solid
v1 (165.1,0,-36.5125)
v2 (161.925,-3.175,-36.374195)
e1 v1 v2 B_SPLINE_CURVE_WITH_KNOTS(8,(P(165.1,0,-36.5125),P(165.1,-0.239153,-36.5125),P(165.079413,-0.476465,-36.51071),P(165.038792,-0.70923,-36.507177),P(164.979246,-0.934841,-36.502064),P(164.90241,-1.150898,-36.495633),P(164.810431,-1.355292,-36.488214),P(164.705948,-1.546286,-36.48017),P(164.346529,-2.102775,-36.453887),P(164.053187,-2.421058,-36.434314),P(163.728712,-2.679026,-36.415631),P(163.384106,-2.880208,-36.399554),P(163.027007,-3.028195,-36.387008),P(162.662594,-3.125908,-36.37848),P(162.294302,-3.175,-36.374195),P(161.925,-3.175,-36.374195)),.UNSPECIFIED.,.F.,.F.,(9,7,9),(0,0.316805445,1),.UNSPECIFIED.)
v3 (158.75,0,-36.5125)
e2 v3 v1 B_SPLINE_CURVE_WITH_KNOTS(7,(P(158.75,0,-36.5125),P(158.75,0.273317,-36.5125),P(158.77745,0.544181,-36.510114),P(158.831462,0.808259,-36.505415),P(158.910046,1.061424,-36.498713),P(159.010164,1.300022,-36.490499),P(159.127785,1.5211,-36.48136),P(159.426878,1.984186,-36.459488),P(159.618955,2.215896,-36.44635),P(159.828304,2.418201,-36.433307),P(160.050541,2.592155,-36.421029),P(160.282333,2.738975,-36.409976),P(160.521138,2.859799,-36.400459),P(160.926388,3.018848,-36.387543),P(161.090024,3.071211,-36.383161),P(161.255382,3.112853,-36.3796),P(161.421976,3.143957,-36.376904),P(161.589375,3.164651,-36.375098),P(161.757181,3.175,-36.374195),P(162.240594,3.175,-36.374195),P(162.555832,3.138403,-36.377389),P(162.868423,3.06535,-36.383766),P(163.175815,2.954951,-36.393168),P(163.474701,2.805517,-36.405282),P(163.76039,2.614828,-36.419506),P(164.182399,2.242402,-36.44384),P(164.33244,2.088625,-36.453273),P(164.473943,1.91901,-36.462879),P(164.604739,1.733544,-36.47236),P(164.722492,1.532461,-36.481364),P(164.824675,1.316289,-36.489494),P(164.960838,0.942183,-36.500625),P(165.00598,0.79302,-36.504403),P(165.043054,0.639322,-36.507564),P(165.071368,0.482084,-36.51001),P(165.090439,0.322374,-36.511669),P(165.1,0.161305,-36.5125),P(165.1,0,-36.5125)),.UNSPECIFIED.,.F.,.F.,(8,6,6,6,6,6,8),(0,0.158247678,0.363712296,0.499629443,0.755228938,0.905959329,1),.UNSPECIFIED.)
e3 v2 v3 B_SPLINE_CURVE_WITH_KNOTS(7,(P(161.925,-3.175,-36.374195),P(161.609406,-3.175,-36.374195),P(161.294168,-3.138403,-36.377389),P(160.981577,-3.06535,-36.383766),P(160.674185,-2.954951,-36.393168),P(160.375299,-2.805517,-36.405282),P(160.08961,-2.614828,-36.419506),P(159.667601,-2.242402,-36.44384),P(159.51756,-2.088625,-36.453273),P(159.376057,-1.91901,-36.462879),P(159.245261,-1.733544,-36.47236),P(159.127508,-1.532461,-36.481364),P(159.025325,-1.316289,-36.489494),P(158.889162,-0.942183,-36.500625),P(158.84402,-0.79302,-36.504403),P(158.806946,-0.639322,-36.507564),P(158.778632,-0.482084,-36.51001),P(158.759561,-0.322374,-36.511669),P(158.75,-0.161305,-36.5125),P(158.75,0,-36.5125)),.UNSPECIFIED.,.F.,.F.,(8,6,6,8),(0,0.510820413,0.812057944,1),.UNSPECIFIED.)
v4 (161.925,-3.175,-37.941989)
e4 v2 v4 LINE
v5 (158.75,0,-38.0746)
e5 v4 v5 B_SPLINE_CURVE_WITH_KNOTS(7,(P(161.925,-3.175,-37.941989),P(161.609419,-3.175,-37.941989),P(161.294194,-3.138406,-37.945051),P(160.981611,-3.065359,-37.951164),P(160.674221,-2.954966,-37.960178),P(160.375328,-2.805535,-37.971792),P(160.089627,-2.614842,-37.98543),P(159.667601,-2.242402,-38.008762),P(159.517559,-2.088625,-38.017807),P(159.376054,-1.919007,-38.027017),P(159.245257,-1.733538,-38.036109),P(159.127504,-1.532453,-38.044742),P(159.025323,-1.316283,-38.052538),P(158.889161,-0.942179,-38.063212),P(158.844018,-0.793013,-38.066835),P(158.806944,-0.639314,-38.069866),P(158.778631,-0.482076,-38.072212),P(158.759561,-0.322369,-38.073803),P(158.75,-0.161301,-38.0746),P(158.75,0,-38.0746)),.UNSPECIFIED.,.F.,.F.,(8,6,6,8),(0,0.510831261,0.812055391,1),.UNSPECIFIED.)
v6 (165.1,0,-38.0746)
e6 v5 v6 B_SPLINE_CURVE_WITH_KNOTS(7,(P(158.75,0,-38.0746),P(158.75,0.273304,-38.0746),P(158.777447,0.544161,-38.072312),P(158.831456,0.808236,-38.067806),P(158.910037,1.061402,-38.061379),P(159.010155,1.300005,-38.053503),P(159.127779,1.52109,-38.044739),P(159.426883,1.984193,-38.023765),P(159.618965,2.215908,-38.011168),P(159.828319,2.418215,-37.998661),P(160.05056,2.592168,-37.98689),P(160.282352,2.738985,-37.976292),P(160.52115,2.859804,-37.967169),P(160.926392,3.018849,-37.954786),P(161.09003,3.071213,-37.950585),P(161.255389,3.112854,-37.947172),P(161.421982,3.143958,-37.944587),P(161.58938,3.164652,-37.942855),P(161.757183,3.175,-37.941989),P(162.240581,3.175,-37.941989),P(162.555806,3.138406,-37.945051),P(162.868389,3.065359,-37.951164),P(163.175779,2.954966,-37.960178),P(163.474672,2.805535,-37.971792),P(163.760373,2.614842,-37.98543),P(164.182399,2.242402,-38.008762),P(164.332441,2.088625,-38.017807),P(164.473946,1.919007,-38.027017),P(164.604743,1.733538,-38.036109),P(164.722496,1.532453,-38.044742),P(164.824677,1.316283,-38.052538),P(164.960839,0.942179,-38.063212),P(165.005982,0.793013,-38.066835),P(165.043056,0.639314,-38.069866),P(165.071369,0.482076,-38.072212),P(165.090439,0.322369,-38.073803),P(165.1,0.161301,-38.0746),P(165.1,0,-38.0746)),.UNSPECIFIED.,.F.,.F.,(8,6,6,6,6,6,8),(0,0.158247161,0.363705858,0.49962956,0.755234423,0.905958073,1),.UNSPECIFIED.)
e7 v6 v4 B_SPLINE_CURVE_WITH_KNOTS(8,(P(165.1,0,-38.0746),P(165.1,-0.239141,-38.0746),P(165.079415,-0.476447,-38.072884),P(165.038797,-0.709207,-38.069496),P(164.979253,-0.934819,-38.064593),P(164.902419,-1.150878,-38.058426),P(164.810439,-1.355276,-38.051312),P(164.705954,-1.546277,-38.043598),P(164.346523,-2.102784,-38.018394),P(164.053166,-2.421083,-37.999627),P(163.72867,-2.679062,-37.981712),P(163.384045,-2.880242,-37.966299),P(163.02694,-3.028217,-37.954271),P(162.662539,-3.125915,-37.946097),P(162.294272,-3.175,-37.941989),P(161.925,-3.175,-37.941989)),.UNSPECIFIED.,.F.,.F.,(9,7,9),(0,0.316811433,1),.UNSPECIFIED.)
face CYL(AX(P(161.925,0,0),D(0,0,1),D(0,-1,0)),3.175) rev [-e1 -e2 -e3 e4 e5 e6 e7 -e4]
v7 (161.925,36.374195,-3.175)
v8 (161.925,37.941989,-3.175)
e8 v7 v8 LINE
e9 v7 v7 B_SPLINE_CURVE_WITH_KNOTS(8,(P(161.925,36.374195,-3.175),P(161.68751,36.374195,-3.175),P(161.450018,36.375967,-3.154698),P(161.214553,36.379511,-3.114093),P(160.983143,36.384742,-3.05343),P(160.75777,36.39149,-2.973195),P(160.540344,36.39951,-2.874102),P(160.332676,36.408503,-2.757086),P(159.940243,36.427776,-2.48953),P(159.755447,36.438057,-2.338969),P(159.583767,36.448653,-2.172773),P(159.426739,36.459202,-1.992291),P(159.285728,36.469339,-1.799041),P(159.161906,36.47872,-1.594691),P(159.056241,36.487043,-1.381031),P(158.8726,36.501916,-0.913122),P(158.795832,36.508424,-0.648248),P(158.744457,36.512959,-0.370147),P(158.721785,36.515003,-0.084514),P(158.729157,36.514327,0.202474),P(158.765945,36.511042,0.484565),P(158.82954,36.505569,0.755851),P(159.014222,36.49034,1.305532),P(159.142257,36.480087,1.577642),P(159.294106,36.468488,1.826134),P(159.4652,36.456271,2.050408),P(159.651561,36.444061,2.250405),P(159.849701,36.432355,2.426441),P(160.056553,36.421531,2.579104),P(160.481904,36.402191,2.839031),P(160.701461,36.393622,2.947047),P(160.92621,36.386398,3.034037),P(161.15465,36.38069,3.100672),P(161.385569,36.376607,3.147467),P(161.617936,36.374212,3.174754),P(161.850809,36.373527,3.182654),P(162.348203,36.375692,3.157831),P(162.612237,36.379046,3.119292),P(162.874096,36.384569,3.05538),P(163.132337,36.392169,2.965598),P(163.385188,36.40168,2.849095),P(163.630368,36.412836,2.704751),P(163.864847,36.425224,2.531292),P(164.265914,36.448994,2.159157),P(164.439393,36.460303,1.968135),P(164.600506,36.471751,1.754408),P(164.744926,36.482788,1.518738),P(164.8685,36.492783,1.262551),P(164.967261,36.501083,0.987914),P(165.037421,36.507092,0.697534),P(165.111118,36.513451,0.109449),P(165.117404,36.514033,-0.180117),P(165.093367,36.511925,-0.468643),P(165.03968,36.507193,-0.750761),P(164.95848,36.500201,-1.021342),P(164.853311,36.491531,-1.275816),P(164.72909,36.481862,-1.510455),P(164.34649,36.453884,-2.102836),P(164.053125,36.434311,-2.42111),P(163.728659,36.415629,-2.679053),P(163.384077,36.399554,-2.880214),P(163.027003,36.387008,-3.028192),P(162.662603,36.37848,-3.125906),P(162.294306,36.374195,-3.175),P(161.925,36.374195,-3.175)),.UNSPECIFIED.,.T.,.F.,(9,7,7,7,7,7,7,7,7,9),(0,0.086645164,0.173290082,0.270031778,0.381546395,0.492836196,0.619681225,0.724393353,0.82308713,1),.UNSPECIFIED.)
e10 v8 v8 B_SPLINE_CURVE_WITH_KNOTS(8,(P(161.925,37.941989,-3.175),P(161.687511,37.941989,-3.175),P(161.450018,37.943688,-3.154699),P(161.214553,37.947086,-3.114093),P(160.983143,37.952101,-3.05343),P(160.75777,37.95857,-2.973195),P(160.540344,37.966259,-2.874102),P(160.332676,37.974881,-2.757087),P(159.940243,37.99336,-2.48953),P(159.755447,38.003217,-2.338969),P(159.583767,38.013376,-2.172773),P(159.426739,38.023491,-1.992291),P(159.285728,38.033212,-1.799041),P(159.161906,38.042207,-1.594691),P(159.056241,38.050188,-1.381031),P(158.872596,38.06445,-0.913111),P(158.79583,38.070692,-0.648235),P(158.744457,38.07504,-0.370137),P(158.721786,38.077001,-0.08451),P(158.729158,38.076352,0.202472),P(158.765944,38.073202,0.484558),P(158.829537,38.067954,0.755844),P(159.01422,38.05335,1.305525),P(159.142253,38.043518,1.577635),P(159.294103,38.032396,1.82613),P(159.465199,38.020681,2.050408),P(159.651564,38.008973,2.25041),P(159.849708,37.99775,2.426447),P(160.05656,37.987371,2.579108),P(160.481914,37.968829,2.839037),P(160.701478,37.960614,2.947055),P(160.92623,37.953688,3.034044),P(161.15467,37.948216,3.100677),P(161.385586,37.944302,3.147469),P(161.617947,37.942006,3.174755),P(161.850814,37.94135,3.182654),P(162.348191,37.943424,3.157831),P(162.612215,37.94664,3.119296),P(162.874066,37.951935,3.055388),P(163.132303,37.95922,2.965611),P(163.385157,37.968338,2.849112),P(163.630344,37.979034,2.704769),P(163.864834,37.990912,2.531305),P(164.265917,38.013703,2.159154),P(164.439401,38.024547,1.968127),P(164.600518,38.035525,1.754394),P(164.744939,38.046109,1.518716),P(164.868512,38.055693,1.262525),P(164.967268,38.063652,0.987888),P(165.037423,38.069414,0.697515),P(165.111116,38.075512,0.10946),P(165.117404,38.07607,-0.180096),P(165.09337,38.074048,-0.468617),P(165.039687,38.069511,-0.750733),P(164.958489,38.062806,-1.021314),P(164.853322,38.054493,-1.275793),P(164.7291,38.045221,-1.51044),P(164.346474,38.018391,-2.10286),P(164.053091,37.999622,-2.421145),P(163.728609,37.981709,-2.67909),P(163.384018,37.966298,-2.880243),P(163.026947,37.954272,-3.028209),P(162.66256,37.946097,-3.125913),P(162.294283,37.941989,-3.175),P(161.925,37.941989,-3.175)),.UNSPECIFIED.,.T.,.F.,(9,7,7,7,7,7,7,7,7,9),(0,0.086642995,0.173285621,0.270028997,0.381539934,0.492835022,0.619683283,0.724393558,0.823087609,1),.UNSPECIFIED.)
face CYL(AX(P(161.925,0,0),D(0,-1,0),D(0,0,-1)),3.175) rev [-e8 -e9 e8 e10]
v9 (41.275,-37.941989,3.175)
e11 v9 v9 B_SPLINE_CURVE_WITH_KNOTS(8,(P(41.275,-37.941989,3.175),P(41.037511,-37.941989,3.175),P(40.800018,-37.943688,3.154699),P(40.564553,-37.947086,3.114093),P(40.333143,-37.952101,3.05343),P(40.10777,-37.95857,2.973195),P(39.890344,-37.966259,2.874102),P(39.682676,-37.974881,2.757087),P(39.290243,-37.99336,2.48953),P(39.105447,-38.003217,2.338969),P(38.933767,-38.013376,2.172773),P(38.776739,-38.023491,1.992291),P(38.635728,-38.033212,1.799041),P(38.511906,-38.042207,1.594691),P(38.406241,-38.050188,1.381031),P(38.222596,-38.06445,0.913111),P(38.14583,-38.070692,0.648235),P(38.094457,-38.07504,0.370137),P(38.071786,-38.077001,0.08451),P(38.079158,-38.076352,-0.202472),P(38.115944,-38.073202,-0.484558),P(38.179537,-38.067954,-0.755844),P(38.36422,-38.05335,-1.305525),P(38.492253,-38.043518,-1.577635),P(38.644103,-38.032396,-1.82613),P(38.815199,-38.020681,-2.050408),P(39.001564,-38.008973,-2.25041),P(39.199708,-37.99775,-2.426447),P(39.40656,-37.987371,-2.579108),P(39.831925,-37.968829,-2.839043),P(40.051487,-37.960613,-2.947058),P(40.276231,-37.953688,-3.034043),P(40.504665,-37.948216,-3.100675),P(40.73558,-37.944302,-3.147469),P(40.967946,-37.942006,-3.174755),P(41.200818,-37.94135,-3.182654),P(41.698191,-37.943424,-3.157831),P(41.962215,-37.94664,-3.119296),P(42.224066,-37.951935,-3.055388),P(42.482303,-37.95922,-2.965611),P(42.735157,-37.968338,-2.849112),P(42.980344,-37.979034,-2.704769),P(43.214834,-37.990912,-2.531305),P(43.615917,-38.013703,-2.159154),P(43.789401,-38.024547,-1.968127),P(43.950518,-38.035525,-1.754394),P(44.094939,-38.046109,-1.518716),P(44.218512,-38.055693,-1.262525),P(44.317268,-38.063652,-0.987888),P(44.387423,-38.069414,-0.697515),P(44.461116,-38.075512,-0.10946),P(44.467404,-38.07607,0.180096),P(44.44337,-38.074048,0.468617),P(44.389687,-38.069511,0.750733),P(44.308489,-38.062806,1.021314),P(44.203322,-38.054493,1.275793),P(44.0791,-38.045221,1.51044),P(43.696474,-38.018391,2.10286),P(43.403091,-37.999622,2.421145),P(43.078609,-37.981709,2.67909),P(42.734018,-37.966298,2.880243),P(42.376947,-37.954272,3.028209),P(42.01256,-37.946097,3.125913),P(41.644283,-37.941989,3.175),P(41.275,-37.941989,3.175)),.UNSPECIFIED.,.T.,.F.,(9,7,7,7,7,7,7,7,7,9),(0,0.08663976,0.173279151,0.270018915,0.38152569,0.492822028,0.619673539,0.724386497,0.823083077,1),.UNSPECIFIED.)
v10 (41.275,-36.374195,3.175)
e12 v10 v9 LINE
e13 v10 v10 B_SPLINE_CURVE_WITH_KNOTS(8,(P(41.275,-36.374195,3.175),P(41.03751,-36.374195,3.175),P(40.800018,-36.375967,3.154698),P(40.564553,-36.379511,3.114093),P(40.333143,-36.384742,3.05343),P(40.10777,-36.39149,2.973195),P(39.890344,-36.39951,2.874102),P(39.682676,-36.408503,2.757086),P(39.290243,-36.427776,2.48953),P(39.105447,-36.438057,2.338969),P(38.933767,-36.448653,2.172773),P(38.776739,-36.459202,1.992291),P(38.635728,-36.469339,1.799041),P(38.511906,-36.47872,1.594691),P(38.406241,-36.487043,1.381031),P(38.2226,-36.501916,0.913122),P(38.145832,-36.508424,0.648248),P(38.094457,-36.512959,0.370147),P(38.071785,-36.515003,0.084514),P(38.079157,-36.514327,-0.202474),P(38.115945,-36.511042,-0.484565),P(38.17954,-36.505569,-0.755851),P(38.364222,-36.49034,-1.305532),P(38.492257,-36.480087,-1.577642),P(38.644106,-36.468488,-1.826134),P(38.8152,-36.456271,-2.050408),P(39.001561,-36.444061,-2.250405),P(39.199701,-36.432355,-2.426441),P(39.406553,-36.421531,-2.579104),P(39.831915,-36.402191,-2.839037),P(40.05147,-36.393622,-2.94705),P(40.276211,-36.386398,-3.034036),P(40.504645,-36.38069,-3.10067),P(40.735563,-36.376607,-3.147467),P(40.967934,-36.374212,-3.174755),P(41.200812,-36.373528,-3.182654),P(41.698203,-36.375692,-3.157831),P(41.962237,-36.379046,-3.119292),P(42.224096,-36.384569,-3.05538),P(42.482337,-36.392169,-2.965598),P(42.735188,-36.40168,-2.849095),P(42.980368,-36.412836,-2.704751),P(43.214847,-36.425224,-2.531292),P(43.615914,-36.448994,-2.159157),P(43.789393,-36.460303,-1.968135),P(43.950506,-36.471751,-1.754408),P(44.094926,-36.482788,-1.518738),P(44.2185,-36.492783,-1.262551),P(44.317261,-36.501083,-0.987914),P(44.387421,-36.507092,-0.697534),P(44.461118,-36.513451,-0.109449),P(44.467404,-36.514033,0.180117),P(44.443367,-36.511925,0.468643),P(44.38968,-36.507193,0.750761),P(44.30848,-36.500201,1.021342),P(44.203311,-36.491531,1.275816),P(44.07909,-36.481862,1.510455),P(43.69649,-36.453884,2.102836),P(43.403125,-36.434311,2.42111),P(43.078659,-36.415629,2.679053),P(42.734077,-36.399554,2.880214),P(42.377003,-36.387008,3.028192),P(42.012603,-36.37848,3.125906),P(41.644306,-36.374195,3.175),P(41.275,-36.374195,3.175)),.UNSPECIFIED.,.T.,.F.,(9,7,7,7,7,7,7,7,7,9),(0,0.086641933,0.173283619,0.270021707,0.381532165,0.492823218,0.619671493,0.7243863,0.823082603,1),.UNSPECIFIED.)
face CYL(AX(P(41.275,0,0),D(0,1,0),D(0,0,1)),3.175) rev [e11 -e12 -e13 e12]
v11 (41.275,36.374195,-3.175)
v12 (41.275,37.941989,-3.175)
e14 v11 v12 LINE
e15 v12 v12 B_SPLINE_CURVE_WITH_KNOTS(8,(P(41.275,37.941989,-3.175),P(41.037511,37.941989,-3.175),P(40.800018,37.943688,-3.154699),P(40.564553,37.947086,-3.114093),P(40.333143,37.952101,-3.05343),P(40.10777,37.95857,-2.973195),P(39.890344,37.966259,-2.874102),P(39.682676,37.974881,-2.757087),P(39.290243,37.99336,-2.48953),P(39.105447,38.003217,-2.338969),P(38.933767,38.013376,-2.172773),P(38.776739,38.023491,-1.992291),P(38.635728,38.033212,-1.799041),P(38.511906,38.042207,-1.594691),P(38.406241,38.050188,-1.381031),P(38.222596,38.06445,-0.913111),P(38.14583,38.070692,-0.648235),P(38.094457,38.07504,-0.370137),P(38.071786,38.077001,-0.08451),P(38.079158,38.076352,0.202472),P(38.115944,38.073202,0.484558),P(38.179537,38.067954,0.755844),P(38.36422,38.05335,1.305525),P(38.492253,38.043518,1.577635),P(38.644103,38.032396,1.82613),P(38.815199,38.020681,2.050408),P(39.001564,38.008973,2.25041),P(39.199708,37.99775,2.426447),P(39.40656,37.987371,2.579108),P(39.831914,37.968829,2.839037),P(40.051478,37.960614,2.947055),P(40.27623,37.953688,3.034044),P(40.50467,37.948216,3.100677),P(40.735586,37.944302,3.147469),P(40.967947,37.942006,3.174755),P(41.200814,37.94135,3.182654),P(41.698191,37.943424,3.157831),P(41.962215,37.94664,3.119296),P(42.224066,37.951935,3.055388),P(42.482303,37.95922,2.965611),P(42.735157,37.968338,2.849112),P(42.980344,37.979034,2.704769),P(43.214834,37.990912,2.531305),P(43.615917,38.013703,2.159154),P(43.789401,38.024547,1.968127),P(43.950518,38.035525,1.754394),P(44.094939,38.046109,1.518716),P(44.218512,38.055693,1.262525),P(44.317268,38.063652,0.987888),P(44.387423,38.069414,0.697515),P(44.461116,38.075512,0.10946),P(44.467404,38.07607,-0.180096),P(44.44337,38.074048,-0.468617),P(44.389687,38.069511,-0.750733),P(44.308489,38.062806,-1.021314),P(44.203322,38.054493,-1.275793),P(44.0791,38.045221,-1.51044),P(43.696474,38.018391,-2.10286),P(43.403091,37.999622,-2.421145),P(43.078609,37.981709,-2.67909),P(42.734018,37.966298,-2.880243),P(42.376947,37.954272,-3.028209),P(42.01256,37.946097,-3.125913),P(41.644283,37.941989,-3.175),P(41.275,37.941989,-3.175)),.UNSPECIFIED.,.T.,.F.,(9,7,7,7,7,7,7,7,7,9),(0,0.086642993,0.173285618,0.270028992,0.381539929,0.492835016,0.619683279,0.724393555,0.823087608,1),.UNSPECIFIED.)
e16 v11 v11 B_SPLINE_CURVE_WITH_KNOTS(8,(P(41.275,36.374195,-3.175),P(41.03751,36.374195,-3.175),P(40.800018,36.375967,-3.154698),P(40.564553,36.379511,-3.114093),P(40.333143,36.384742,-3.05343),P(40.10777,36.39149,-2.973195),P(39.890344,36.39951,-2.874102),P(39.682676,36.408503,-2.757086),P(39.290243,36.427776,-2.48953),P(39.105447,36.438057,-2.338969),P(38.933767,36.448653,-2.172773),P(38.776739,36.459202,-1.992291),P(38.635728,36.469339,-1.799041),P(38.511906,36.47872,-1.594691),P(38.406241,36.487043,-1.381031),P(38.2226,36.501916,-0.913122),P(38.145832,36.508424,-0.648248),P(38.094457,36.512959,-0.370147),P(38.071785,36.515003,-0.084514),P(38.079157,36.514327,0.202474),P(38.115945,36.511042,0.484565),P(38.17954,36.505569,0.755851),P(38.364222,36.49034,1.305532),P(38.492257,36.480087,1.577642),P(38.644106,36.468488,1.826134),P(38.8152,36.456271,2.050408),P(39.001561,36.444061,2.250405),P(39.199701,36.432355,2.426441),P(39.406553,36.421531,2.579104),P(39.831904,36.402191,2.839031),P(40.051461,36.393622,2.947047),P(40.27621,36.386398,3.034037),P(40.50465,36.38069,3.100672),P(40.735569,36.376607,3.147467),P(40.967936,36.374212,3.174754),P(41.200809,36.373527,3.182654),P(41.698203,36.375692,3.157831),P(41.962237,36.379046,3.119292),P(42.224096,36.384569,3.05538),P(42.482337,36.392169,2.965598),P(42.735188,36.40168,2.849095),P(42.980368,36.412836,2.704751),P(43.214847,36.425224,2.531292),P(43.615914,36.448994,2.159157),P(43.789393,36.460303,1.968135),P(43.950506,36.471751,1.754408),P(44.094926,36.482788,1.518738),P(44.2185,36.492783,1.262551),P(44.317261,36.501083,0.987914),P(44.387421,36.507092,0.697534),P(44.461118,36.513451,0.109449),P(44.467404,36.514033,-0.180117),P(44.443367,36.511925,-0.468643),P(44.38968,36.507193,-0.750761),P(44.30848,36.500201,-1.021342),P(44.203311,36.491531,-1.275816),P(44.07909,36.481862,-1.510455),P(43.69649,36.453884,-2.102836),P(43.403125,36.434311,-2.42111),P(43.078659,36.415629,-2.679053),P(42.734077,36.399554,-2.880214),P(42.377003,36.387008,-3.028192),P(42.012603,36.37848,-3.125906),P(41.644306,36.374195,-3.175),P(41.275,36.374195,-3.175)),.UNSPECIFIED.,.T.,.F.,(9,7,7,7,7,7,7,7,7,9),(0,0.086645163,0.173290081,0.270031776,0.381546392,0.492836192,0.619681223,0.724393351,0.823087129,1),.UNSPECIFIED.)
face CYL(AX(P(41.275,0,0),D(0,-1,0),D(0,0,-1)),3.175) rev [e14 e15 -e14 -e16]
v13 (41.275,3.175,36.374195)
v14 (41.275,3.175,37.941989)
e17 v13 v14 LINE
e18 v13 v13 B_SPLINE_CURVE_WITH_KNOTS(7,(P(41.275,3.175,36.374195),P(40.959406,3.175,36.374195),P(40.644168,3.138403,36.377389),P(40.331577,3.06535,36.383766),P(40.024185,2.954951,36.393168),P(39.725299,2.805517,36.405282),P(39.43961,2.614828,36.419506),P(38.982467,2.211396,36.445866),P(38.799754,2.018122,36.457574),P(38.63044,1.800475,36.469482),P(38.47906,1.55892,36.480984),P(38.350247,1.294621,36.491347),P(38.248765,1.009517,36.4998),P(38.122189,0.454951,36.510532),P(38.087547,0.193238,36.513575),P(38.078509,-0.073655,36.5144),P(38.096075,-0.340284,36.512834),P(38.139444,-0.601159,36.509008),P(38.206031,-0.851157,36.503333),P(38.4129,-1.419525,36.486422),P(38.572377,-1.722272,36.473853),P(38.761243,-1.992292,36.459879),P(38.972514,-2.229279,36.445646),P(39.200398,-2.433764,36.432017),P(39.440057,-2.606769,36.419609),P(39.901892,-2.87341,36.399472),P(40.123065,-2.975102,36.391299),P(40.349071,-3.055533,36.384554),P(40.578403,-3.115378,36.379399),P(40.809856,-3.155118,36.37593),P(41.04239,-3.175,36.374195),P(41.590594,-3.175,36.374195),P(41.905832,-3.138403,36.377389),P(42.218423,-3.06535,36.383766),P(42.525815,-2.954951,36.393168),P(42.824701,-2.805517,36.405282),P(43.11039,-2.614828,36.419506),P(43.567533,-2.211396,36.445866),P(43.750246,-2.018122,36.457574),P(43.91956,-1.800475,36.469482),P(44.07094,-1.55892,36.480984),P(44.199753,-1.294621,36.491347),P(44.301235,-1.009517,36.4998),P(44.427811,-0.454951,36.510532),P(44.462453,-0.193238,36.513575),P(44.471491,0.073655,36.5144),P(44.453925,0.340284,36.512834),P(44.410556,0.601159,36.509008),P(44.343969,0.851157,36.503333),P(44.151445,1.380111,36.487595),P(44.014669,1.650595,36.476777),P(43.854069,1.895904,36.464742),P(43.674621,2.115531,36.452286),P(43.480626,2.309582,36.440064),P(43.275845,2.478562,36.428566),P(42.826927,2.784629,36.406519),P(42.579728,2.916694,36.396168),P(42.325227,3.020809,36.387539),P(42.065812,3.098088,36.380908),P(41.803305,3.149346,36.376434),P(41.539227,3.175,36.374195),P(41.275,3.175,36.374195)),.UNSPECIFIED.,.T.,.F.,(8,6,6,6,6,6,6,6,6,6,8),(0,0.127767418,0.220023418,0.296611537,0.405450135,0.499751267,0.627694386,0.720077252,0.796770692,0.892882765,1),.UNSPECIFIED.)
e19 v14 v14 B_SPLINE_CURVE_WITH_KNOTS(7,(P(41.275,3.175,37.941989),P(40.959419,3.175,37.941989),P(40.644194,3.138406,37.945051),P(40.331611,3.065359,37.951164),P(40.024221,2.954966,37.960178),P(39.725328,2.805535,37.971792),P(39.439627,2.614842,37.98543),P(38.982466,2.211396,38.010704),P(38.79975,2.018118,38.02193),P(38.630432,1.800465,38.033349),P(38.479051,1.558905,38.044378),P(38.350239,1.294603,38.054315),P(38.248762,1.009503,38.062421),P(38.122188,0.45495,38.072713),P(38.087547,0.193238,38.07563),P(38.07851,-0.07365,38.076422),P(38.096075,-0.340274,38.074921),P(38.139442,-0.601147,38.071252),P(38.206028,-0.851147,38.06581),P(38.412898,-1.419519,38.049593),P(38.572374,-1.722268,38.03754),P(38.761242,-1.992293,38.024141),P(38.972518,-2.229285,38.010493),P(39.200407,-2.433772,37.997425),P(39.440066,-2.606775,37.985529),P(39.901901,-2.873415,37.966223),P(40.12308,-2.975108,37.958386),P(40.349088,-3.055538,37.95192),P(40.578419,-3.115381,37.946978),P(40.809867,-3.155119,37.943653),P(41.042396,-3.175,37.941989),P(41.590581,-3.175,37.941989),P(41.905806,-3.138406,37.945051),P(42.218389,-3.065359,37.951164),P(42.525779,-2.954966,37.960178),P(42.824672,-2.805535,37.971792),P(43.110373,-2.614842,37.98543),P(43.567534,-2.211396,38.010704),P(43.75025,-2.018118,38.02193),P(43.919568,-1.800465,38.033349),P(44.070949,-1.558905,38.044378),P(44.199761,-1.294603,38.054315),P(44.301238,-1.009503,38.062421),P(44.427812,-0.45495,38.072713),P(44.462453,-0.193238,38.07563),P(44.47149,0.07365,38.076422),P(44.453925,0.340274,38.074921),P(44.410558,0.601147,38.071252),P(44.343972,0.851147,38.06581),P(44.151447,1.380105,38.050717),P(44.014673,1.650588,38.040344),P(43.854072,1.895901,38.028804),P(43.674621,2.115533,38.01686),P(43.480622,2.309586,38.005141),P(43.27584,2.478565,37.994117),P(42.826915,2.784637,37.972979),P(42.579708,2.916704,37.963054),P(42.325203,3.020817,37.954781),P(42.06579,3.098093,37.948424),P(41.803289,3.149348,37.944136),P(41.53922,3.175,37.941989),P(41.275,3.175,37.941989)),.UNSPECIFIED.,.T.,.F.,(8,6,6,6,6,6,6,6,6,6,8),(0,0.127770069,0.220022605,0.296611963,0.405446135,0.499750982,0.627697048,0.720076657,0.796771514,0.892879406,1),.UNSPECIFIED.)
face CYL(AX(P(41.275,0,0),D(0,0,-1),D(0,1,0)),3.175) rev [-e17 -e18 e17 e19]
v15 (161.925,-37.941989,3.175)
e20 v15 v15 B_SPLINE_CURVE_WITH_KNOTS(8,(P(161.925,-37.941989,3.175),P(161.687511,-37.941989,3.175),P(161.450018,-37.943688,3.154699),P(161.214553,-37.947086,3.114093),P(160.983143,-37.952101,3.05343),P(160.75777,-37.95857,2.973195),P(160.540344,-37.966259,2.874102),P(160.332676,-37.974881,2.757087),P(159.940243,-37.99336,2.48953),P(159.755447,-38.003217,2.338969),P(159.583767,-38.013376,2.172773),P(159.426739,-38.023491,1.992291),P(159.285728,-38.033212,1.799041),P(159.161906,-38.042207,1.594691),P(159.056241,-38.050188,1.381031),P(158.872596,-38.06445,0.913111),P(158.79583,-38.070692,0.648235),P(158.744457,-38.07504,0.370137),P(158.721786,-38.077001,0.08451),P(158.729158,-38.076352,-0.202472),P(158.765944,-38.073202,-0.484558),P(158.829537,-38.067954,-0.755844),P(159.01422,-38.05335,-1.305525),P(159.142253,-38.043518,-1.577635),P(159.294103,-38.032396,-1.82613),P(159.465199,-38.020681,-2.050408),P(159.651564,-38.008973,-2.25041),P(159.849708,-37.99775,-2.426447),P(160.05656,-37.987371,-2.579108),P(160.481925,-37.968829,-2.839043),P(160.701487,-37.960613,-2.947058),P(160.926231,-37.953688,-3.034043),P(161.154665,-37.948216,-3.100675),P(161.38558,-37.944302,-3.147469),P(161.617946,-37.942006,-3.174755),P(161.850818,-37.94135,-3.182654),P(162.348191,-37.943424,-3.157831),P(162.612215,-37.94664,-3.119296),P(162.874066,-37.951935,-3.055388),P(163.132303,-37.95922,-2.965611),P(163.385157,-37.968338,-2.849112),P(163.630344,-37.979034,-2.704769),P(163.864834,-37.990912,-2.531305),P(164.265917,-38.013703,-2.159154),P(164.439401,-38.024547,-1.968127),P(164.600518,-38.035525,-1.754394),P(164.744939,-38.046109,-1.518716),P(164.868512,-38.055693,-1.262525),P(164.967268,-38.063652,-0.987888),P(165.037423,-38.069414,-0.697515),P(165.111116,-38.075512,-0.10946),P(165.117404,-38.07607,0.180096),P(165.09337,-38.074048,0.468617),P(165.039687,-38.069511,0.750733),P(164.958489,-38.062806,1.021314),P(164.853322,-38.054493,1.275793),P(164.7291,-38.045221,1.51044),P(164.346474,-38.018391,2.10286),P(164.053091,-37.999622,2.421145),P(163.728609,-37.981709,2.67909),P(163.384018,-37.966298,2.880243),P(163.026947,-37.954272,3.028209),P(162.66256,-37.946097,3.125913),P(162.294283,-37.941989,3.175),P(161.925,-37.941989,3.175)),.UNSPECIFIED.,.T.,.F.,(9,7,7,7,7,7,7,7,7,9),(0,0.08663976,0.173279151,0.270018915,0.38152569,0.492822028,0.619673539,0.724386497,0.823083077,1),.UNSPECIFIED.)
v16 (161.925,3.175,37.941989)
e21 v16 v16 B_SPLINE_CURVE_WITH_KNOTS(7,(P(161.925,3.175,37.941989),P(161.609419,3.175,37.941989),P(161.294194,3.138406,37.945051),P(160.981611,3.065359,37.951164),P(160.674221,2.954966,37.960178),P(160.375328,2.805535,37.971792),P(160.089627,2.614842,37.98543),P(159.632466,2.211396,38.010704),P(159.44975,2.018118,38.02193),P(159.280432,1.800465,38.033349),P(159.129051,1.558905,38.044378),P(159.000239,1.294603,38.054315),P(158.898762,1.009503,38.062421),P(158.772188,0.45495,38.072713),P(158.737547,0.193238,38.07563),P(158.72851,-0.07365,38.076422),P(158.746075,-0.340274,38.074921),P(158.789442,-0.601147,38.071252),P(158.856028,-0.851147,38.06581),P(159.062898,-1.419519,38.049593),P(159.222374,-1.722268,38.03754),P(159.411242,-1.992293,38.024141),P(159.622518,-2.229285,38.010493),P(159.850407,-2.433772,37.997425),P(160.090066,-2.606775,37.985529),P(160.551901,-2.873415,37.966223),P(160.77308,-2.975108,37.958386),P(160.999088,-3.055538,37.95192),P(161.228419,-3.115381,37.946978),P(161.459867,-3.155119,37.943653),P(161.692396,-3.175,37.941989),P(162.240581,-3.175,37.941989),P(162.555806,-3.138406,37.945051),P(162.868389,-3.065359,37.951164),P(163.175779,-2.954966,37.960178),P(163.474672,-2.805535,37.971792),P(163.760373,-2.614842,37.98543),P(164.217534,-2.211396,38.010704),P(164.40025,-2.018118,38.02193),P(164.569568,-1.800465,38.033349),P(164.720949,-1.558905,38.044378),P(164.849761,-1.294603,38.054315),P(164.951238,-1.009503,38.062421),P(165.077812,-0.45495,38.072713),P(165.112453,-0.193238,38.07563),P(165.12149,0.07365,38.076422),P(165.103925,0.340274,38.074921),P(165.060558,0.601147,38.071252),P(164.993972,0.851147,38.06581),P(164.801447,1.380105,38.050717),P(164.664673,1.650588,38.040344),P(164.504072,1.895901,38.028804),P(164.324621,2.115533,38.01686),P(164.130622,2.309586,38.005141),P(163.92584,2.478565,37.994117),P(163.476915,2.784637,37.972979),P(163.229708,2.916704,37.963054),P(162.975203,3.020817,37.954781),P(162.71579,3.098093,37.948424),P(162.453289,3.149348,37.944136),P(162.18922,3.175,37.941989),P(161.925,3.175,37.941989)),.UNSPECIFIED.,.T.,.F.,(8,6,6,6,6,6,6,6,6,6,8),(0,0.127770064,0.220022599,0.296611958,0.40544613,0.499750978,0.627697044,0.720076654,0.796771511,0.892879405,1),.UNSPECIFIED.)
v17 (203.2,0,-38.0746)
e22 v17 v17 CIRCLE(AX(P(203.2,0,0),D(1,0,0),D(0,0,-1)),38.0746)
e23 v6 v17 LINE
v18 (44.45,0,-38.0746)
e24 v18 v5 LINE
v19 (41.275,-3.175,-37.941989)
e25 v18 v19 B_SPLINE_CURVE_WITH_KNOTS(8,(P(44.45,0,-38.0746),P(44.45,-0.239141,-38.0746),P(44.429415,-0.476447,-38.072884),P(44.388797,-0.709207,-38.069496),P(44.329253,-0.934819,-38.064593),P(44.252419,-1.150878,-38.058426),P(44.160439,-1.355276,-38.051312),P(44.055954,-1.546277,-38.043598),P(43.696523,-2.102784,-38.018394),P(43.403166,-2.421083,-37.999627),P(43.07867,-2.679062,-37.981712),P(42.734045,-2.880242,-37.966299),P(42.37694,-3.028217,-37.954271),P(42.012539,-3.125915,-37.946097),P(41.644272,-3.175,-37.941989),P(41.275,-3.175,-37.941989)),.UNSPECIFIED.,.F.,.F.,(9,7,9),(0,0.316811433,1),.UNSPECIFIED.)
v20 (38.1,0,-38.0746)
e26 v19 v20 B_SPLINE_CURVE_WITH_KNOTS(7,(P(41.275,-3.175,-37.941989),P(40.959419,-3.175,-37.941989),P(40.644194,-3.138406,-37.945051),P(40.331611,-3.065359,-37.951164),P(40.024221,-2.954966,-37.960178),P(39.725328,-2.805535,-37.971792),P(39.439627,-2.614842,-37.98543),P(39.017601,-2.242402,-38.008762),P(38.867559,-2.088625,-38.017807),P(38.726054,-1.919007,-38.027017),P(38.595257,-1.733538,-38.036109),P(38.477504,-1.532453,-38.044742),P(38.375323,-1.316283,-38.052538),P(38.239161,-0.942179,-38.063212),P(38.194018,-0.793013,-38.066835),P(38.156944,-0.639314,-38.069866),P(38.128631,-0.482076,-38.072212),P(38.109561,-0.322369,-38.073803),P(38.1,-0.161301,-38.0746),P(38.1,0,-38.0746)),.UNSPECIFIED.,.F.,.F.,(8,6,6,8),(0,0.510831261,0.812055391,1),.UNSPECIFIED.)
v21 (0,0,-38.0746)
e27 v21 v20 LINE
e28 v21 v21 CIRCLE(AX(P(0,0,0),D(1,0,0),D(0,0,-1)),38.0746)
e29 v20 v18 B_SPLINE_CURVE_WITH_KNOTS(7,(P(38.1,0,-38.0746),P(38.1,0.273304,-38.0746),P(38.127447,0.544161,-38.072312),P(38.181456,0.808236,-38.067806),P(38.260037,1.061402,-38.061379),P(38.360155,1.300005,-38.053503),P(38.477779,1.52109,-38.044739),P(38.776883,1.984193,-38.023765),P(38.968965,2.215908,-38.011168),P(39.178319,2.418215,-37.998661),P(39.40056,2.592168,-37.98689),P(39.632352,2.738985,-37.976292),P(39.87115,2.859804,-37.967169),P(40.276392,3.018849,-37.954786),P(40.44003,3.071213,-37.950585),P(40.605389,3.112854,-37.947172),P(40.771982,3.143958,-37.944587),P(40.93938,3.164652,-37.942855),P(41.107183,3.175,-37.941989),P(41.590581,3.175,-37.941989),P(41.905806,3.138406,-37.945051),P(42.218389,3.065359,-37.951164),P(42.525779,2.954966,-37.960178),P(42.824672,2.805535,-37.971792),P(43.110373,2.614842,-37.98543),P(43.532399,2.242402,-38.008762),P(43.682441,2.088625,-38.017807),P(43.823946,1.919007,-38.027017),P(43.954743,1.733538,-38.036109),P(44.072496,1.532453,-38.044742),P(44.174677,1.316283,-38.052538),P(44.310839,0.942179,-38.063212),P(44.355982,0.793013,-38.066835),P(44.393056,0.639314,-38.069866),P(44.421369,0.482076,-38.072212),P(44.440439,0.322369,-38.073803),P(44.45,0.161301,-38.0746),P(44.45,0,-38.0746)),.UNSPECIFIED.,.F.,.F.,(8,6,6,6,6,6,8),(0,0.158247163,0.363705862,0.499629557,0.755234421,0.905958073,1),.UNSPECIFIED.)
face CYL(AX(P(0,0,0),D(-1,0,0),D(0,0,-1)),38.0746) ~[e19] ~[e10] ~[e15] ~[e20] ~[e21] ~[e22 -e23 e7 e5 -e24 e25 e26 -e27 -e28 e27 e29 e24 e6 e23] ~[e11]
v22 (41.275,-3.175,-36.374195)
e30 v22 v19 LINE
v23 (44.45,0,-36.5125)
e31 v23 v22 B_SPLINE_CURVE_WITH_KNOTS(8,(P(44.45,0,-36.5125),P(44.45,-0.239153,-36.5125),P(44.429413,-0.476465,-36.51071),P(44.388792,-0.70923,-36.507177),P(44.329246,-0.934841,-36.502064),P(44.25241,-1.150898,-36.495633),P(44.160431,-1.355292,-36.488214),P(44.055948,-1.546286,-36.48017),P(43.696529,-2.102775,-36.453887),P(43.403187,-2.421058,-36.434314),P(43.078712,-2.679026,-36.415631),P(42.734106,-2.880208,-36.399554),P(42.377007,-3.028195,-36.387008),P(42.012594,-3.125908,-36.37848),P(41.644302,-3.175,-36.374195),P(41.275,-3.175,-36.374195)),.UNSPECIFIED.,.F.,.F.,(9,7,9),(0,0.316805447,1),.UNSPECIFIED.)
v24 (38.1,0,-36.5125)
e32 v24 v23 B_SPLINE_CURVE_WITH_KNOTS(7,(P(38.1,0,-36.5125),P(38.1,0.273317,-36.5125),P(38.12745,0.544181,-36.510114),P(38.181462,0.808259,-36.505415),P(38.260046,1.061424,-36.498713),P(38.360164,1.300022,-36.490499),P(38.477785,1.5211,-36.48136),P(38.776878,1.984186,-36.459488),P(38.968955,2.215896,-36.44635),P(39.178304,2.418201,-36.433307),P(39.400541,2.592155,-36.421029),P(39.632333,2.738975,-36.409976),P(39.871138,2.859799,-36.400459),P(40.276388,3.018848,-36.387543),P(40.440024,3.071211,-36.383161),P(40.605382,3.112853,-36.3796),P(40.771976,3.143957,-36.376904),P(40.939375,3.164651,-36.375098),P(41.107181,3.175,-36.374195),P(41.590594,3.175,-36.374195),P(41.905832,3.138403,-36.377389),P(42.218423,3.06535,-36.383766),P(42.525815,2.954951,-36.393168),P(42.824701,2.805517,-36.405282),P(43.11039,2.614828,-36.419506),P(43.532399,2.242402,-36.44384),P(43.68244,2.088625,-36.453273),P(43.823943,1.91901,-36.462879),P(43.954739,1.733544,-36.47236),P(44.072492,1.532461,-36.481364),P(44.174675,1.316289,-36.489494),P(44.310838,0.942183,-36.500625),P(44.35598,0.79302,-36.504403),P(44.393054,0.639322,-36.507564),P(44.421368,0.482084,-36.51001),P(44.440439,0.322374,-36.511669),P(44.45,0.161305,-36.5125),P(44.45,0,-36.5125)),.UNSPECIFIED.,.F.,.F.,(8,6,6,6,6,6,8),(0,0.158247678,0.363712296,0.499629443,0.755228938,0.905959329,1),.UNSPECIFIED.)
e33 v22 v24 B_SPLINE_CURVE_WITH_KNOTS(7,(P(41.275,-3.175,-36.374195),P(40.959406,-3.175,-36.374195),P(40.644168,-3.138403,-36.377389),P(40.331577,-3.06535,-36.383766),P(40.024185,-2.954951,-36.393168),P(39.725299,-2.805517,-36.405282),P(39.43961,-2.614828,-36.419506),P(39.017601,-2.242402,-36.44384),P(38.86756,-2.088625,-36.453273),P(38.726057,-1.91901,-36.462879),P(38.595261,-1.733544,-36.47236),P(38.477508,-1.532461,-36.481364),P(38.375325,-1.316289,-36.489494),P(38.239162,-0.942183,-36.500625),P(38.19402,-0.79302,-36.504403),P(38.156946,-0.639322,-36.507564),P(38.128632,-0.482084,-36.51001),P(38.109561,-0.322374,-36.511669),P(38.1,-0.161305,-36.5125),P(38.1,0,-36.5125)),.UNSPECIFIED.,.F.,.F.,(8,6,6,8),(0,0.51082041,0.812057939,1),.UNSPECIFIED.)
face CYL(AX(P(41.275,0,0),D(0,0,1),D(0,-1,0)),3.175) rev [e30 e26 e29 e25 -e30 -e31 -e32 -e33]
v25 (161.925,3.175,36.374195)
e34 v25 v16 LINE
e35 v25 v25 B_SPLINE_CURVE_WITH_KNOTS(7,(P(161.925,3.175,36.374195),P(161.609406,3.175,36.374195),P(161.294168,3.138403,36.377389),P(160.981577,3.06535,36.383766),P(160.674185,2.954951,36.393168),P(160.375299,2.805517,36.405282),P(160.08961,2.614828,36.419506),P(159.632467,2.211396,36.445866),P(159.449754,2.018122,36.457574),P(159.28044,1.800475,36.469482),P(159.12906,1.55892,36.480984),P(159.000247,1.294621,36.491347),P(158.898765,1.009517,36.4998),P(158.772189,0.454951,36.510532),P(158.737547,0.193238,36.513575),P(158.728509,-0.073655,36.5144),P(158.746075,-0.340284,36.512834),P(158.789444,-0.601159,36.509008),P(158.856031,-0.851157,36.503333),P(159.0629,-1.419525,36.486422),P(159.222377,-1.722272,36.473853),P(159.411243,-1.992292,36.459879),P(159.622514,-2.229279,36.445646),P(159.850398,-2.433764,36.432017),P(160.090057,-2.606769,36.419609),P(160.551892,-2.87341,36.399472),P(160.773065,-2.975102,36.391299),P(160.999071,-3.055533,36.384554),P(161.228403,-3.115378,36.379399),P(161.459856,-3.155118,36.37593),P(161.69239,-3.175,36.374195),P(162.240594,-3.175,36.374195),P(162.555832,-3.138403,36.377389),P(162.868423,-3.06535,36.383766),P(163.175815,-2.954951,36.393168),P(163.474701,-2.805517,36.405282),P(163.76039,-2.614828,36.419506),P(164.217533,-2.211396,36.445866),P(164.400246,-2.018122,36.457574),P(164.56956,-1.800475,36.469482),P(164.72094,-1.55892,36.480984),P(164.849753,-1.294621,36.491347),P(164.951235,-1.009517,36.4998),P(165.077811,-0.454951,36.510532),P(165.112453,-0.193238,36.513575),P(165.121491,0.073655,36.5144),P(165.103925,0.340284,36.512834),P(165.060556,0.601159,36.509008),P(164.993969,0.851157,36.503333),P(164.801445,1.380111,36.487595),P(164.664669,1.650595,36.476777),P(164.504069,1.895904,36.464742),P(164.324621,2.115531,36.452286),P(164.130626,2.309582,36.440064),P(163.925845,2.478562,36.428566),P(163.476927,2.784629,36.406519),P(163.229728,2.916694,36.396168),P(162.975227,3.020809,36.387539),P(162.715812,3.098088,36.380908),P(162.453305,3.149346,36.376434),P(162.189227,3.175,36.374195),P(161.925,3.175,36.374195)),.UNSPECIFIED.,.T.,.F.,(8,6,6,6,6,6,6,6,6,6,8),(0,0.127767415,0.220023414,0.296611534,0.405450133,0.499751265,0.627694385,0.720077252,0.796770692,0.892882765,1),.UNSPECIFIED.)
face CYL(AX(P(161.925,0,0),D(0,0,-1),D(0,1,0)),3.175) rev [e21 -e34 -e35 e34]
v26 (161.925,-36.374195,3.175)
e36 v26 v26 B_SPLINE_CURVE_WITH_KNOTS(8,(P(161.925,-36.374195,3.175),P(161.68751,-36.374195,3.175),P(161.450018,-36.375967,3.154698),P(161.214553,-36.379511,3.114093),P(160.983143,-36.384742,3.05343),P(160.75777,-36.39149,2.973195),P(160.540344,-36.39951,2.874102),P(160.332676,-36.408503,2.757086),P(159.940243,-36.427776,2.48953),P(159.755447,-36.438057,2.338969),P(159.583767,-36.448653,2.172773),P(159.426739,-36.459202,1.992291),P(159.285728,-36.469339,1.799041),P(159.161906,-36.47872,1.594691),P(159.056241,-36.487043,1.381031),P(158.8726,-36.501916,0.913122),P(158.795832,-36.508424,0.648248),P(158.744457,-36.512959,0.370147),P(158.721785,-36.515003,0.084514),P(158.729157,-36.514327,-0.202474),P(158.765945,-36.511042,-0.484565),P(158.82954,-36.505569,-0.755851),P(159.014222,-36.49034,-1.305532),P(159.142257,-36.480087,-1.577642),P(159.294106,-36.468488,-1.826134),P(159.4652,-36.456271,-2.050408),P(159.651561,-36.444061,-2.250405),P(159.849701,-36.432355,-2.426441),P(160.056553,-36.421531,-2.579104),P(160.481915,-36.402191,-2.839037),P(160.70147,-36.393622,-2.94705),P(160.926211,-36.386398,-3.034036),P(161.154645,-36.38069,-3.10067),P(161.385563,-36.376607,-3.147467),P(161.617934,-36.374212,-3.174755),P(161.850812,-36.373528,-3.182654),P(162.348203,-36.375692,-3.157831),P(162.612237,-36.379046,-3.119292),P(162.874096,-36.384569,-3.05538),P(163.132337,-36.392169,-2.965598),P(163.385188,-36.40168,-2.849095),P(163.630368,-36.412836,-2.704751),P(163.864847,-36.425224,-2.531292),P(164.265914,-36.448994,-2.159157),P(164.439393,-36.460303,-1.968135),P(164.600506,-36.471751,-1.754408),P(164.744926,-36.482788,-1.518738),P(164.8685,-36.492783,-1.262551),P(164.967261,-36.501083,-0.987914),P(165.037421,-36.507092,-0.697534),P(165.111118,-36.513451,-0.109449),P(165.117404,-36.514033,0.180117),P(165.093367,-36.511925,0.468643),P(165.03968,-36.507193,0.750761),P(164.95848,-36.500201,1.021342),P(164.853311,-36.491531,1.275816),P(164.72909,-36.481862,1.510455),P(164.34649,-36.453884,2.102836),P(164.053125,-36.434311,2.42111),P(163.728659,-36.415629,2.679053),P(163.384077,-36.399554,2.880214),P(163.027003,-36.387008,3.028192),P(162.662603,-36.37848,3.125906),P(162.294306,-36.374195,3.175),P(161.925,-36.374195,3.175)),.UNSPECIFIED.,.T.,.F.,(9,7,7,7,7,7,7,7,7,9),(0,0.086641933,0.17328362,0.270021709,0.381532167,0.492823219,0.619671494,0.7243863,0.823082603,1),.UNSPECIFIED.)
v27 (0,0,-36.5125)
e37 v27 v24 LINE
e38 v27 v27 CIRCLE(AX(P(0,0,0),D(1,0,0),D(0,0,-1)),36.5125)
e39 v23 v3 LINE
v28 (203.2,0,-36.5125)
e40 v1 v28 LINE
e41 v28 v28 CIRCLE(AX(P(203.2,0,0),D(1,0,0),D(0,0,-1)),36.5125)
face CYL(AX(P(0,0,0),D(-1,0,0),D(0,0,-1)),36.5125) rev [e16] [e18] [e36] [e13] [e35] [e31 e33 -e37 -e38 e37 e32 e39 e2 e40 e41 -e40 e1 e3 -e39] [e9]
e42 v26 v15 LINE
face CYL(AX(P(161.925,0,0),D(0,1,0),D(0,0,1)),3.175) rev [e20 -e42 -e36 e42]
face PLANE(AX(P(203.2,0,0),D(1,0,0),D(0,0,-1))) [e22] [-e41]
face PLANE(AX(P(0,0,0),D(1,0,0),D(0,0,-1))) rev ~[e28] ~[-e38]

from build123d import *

# Parameters (mm, degrees)
SKETCH1_R           = 38.0746
SKETCH1_R_2         = 36.5125
BOSS_EXTRUDE1_DEPTH = 203.2
SKETCH2_R           = 3.175
CUT_EXTRUDE1_DEPTH  = 211.213202084
CIRPATTERN1_COUNT   = 4
SKETCH3_R           = 3.175
CUT_EXTRUDE2_DEPTH  = 211.213202217
CIRPATTERN2_COUNT   = 4


with BuildPart() as part:
    # Sketch1 → Boss-Extrude1 (new body)
    with BuildSketch(Plane.YZ):
        with Locations(Location((0, 0, 0), (0, 0, 270))):
            Circle(SKETCH1_R)
        with Locations(Location((0, 0, 0), (0, 0, 270))):
            Circle(SKETCH1_R_2, mode=Mode.SUBTRACT)
    extrude(amount=BOSS_EXTRUDE1_DEPTH)

    # Sketch2 → Cut-Extrude1 (cut, through all)
    with BuildSketch(Plane(origin=(0, 0, 0), x_dir=(-1, 0, 0), z_dir=(0, 1, 0))):
        with Locations(Location((-41.275, 0, 0), (0, 0, 270))):
            Circle(SKETCH2_R)
    cut_extrude1 = extrude(amount=CUT_EXTRUDE1_DEPTH, mode=Mode.SUBTRACT)

    # CirPattern1: Cut-Extrude1 ×4 about axis
    cirpattern1_axis = Axis((203.2, 0, 0), (-1, 0, 0))
    for i in range(1, CIRPATTERN1_COUNT):
        add(cut_extrude1.rotate(cirpattern1_axis, i * 360 / CIRPATTERN1_COUNT), mode=Mode.SUBTRACT)

    # Sketch3 → Cut-Extrude2 (cut, through all)
    with BuildSketch(Plane(origin=(0, 0, 0), x_dir=(-1, 0, 0), z_dir=(0, 1, 0))):
        with Locations(Location((-161.925, 0, 0), (0, 0, 270))):
            Circle(SKETCH3_R)
    cut_extrude2 = extrude(amount=CUT_EXTRUDE2_DEPTH, mode=Mode.SUBTRACT)

    # CirPattern2: Cut-Extrude2 ×4 about axis
    cirpattern2_axis = Axis((203.2, 0, 0), (-1, 0, 0))
    for i in range(1, CIRPATTERN2_COUNT):
        add(cut_extrude2.rotate(cirpattern2_axis, i * 360 / CIRPATTERN2_COUNT), mode=Mode.SUBTRACT)


solid = part.part
